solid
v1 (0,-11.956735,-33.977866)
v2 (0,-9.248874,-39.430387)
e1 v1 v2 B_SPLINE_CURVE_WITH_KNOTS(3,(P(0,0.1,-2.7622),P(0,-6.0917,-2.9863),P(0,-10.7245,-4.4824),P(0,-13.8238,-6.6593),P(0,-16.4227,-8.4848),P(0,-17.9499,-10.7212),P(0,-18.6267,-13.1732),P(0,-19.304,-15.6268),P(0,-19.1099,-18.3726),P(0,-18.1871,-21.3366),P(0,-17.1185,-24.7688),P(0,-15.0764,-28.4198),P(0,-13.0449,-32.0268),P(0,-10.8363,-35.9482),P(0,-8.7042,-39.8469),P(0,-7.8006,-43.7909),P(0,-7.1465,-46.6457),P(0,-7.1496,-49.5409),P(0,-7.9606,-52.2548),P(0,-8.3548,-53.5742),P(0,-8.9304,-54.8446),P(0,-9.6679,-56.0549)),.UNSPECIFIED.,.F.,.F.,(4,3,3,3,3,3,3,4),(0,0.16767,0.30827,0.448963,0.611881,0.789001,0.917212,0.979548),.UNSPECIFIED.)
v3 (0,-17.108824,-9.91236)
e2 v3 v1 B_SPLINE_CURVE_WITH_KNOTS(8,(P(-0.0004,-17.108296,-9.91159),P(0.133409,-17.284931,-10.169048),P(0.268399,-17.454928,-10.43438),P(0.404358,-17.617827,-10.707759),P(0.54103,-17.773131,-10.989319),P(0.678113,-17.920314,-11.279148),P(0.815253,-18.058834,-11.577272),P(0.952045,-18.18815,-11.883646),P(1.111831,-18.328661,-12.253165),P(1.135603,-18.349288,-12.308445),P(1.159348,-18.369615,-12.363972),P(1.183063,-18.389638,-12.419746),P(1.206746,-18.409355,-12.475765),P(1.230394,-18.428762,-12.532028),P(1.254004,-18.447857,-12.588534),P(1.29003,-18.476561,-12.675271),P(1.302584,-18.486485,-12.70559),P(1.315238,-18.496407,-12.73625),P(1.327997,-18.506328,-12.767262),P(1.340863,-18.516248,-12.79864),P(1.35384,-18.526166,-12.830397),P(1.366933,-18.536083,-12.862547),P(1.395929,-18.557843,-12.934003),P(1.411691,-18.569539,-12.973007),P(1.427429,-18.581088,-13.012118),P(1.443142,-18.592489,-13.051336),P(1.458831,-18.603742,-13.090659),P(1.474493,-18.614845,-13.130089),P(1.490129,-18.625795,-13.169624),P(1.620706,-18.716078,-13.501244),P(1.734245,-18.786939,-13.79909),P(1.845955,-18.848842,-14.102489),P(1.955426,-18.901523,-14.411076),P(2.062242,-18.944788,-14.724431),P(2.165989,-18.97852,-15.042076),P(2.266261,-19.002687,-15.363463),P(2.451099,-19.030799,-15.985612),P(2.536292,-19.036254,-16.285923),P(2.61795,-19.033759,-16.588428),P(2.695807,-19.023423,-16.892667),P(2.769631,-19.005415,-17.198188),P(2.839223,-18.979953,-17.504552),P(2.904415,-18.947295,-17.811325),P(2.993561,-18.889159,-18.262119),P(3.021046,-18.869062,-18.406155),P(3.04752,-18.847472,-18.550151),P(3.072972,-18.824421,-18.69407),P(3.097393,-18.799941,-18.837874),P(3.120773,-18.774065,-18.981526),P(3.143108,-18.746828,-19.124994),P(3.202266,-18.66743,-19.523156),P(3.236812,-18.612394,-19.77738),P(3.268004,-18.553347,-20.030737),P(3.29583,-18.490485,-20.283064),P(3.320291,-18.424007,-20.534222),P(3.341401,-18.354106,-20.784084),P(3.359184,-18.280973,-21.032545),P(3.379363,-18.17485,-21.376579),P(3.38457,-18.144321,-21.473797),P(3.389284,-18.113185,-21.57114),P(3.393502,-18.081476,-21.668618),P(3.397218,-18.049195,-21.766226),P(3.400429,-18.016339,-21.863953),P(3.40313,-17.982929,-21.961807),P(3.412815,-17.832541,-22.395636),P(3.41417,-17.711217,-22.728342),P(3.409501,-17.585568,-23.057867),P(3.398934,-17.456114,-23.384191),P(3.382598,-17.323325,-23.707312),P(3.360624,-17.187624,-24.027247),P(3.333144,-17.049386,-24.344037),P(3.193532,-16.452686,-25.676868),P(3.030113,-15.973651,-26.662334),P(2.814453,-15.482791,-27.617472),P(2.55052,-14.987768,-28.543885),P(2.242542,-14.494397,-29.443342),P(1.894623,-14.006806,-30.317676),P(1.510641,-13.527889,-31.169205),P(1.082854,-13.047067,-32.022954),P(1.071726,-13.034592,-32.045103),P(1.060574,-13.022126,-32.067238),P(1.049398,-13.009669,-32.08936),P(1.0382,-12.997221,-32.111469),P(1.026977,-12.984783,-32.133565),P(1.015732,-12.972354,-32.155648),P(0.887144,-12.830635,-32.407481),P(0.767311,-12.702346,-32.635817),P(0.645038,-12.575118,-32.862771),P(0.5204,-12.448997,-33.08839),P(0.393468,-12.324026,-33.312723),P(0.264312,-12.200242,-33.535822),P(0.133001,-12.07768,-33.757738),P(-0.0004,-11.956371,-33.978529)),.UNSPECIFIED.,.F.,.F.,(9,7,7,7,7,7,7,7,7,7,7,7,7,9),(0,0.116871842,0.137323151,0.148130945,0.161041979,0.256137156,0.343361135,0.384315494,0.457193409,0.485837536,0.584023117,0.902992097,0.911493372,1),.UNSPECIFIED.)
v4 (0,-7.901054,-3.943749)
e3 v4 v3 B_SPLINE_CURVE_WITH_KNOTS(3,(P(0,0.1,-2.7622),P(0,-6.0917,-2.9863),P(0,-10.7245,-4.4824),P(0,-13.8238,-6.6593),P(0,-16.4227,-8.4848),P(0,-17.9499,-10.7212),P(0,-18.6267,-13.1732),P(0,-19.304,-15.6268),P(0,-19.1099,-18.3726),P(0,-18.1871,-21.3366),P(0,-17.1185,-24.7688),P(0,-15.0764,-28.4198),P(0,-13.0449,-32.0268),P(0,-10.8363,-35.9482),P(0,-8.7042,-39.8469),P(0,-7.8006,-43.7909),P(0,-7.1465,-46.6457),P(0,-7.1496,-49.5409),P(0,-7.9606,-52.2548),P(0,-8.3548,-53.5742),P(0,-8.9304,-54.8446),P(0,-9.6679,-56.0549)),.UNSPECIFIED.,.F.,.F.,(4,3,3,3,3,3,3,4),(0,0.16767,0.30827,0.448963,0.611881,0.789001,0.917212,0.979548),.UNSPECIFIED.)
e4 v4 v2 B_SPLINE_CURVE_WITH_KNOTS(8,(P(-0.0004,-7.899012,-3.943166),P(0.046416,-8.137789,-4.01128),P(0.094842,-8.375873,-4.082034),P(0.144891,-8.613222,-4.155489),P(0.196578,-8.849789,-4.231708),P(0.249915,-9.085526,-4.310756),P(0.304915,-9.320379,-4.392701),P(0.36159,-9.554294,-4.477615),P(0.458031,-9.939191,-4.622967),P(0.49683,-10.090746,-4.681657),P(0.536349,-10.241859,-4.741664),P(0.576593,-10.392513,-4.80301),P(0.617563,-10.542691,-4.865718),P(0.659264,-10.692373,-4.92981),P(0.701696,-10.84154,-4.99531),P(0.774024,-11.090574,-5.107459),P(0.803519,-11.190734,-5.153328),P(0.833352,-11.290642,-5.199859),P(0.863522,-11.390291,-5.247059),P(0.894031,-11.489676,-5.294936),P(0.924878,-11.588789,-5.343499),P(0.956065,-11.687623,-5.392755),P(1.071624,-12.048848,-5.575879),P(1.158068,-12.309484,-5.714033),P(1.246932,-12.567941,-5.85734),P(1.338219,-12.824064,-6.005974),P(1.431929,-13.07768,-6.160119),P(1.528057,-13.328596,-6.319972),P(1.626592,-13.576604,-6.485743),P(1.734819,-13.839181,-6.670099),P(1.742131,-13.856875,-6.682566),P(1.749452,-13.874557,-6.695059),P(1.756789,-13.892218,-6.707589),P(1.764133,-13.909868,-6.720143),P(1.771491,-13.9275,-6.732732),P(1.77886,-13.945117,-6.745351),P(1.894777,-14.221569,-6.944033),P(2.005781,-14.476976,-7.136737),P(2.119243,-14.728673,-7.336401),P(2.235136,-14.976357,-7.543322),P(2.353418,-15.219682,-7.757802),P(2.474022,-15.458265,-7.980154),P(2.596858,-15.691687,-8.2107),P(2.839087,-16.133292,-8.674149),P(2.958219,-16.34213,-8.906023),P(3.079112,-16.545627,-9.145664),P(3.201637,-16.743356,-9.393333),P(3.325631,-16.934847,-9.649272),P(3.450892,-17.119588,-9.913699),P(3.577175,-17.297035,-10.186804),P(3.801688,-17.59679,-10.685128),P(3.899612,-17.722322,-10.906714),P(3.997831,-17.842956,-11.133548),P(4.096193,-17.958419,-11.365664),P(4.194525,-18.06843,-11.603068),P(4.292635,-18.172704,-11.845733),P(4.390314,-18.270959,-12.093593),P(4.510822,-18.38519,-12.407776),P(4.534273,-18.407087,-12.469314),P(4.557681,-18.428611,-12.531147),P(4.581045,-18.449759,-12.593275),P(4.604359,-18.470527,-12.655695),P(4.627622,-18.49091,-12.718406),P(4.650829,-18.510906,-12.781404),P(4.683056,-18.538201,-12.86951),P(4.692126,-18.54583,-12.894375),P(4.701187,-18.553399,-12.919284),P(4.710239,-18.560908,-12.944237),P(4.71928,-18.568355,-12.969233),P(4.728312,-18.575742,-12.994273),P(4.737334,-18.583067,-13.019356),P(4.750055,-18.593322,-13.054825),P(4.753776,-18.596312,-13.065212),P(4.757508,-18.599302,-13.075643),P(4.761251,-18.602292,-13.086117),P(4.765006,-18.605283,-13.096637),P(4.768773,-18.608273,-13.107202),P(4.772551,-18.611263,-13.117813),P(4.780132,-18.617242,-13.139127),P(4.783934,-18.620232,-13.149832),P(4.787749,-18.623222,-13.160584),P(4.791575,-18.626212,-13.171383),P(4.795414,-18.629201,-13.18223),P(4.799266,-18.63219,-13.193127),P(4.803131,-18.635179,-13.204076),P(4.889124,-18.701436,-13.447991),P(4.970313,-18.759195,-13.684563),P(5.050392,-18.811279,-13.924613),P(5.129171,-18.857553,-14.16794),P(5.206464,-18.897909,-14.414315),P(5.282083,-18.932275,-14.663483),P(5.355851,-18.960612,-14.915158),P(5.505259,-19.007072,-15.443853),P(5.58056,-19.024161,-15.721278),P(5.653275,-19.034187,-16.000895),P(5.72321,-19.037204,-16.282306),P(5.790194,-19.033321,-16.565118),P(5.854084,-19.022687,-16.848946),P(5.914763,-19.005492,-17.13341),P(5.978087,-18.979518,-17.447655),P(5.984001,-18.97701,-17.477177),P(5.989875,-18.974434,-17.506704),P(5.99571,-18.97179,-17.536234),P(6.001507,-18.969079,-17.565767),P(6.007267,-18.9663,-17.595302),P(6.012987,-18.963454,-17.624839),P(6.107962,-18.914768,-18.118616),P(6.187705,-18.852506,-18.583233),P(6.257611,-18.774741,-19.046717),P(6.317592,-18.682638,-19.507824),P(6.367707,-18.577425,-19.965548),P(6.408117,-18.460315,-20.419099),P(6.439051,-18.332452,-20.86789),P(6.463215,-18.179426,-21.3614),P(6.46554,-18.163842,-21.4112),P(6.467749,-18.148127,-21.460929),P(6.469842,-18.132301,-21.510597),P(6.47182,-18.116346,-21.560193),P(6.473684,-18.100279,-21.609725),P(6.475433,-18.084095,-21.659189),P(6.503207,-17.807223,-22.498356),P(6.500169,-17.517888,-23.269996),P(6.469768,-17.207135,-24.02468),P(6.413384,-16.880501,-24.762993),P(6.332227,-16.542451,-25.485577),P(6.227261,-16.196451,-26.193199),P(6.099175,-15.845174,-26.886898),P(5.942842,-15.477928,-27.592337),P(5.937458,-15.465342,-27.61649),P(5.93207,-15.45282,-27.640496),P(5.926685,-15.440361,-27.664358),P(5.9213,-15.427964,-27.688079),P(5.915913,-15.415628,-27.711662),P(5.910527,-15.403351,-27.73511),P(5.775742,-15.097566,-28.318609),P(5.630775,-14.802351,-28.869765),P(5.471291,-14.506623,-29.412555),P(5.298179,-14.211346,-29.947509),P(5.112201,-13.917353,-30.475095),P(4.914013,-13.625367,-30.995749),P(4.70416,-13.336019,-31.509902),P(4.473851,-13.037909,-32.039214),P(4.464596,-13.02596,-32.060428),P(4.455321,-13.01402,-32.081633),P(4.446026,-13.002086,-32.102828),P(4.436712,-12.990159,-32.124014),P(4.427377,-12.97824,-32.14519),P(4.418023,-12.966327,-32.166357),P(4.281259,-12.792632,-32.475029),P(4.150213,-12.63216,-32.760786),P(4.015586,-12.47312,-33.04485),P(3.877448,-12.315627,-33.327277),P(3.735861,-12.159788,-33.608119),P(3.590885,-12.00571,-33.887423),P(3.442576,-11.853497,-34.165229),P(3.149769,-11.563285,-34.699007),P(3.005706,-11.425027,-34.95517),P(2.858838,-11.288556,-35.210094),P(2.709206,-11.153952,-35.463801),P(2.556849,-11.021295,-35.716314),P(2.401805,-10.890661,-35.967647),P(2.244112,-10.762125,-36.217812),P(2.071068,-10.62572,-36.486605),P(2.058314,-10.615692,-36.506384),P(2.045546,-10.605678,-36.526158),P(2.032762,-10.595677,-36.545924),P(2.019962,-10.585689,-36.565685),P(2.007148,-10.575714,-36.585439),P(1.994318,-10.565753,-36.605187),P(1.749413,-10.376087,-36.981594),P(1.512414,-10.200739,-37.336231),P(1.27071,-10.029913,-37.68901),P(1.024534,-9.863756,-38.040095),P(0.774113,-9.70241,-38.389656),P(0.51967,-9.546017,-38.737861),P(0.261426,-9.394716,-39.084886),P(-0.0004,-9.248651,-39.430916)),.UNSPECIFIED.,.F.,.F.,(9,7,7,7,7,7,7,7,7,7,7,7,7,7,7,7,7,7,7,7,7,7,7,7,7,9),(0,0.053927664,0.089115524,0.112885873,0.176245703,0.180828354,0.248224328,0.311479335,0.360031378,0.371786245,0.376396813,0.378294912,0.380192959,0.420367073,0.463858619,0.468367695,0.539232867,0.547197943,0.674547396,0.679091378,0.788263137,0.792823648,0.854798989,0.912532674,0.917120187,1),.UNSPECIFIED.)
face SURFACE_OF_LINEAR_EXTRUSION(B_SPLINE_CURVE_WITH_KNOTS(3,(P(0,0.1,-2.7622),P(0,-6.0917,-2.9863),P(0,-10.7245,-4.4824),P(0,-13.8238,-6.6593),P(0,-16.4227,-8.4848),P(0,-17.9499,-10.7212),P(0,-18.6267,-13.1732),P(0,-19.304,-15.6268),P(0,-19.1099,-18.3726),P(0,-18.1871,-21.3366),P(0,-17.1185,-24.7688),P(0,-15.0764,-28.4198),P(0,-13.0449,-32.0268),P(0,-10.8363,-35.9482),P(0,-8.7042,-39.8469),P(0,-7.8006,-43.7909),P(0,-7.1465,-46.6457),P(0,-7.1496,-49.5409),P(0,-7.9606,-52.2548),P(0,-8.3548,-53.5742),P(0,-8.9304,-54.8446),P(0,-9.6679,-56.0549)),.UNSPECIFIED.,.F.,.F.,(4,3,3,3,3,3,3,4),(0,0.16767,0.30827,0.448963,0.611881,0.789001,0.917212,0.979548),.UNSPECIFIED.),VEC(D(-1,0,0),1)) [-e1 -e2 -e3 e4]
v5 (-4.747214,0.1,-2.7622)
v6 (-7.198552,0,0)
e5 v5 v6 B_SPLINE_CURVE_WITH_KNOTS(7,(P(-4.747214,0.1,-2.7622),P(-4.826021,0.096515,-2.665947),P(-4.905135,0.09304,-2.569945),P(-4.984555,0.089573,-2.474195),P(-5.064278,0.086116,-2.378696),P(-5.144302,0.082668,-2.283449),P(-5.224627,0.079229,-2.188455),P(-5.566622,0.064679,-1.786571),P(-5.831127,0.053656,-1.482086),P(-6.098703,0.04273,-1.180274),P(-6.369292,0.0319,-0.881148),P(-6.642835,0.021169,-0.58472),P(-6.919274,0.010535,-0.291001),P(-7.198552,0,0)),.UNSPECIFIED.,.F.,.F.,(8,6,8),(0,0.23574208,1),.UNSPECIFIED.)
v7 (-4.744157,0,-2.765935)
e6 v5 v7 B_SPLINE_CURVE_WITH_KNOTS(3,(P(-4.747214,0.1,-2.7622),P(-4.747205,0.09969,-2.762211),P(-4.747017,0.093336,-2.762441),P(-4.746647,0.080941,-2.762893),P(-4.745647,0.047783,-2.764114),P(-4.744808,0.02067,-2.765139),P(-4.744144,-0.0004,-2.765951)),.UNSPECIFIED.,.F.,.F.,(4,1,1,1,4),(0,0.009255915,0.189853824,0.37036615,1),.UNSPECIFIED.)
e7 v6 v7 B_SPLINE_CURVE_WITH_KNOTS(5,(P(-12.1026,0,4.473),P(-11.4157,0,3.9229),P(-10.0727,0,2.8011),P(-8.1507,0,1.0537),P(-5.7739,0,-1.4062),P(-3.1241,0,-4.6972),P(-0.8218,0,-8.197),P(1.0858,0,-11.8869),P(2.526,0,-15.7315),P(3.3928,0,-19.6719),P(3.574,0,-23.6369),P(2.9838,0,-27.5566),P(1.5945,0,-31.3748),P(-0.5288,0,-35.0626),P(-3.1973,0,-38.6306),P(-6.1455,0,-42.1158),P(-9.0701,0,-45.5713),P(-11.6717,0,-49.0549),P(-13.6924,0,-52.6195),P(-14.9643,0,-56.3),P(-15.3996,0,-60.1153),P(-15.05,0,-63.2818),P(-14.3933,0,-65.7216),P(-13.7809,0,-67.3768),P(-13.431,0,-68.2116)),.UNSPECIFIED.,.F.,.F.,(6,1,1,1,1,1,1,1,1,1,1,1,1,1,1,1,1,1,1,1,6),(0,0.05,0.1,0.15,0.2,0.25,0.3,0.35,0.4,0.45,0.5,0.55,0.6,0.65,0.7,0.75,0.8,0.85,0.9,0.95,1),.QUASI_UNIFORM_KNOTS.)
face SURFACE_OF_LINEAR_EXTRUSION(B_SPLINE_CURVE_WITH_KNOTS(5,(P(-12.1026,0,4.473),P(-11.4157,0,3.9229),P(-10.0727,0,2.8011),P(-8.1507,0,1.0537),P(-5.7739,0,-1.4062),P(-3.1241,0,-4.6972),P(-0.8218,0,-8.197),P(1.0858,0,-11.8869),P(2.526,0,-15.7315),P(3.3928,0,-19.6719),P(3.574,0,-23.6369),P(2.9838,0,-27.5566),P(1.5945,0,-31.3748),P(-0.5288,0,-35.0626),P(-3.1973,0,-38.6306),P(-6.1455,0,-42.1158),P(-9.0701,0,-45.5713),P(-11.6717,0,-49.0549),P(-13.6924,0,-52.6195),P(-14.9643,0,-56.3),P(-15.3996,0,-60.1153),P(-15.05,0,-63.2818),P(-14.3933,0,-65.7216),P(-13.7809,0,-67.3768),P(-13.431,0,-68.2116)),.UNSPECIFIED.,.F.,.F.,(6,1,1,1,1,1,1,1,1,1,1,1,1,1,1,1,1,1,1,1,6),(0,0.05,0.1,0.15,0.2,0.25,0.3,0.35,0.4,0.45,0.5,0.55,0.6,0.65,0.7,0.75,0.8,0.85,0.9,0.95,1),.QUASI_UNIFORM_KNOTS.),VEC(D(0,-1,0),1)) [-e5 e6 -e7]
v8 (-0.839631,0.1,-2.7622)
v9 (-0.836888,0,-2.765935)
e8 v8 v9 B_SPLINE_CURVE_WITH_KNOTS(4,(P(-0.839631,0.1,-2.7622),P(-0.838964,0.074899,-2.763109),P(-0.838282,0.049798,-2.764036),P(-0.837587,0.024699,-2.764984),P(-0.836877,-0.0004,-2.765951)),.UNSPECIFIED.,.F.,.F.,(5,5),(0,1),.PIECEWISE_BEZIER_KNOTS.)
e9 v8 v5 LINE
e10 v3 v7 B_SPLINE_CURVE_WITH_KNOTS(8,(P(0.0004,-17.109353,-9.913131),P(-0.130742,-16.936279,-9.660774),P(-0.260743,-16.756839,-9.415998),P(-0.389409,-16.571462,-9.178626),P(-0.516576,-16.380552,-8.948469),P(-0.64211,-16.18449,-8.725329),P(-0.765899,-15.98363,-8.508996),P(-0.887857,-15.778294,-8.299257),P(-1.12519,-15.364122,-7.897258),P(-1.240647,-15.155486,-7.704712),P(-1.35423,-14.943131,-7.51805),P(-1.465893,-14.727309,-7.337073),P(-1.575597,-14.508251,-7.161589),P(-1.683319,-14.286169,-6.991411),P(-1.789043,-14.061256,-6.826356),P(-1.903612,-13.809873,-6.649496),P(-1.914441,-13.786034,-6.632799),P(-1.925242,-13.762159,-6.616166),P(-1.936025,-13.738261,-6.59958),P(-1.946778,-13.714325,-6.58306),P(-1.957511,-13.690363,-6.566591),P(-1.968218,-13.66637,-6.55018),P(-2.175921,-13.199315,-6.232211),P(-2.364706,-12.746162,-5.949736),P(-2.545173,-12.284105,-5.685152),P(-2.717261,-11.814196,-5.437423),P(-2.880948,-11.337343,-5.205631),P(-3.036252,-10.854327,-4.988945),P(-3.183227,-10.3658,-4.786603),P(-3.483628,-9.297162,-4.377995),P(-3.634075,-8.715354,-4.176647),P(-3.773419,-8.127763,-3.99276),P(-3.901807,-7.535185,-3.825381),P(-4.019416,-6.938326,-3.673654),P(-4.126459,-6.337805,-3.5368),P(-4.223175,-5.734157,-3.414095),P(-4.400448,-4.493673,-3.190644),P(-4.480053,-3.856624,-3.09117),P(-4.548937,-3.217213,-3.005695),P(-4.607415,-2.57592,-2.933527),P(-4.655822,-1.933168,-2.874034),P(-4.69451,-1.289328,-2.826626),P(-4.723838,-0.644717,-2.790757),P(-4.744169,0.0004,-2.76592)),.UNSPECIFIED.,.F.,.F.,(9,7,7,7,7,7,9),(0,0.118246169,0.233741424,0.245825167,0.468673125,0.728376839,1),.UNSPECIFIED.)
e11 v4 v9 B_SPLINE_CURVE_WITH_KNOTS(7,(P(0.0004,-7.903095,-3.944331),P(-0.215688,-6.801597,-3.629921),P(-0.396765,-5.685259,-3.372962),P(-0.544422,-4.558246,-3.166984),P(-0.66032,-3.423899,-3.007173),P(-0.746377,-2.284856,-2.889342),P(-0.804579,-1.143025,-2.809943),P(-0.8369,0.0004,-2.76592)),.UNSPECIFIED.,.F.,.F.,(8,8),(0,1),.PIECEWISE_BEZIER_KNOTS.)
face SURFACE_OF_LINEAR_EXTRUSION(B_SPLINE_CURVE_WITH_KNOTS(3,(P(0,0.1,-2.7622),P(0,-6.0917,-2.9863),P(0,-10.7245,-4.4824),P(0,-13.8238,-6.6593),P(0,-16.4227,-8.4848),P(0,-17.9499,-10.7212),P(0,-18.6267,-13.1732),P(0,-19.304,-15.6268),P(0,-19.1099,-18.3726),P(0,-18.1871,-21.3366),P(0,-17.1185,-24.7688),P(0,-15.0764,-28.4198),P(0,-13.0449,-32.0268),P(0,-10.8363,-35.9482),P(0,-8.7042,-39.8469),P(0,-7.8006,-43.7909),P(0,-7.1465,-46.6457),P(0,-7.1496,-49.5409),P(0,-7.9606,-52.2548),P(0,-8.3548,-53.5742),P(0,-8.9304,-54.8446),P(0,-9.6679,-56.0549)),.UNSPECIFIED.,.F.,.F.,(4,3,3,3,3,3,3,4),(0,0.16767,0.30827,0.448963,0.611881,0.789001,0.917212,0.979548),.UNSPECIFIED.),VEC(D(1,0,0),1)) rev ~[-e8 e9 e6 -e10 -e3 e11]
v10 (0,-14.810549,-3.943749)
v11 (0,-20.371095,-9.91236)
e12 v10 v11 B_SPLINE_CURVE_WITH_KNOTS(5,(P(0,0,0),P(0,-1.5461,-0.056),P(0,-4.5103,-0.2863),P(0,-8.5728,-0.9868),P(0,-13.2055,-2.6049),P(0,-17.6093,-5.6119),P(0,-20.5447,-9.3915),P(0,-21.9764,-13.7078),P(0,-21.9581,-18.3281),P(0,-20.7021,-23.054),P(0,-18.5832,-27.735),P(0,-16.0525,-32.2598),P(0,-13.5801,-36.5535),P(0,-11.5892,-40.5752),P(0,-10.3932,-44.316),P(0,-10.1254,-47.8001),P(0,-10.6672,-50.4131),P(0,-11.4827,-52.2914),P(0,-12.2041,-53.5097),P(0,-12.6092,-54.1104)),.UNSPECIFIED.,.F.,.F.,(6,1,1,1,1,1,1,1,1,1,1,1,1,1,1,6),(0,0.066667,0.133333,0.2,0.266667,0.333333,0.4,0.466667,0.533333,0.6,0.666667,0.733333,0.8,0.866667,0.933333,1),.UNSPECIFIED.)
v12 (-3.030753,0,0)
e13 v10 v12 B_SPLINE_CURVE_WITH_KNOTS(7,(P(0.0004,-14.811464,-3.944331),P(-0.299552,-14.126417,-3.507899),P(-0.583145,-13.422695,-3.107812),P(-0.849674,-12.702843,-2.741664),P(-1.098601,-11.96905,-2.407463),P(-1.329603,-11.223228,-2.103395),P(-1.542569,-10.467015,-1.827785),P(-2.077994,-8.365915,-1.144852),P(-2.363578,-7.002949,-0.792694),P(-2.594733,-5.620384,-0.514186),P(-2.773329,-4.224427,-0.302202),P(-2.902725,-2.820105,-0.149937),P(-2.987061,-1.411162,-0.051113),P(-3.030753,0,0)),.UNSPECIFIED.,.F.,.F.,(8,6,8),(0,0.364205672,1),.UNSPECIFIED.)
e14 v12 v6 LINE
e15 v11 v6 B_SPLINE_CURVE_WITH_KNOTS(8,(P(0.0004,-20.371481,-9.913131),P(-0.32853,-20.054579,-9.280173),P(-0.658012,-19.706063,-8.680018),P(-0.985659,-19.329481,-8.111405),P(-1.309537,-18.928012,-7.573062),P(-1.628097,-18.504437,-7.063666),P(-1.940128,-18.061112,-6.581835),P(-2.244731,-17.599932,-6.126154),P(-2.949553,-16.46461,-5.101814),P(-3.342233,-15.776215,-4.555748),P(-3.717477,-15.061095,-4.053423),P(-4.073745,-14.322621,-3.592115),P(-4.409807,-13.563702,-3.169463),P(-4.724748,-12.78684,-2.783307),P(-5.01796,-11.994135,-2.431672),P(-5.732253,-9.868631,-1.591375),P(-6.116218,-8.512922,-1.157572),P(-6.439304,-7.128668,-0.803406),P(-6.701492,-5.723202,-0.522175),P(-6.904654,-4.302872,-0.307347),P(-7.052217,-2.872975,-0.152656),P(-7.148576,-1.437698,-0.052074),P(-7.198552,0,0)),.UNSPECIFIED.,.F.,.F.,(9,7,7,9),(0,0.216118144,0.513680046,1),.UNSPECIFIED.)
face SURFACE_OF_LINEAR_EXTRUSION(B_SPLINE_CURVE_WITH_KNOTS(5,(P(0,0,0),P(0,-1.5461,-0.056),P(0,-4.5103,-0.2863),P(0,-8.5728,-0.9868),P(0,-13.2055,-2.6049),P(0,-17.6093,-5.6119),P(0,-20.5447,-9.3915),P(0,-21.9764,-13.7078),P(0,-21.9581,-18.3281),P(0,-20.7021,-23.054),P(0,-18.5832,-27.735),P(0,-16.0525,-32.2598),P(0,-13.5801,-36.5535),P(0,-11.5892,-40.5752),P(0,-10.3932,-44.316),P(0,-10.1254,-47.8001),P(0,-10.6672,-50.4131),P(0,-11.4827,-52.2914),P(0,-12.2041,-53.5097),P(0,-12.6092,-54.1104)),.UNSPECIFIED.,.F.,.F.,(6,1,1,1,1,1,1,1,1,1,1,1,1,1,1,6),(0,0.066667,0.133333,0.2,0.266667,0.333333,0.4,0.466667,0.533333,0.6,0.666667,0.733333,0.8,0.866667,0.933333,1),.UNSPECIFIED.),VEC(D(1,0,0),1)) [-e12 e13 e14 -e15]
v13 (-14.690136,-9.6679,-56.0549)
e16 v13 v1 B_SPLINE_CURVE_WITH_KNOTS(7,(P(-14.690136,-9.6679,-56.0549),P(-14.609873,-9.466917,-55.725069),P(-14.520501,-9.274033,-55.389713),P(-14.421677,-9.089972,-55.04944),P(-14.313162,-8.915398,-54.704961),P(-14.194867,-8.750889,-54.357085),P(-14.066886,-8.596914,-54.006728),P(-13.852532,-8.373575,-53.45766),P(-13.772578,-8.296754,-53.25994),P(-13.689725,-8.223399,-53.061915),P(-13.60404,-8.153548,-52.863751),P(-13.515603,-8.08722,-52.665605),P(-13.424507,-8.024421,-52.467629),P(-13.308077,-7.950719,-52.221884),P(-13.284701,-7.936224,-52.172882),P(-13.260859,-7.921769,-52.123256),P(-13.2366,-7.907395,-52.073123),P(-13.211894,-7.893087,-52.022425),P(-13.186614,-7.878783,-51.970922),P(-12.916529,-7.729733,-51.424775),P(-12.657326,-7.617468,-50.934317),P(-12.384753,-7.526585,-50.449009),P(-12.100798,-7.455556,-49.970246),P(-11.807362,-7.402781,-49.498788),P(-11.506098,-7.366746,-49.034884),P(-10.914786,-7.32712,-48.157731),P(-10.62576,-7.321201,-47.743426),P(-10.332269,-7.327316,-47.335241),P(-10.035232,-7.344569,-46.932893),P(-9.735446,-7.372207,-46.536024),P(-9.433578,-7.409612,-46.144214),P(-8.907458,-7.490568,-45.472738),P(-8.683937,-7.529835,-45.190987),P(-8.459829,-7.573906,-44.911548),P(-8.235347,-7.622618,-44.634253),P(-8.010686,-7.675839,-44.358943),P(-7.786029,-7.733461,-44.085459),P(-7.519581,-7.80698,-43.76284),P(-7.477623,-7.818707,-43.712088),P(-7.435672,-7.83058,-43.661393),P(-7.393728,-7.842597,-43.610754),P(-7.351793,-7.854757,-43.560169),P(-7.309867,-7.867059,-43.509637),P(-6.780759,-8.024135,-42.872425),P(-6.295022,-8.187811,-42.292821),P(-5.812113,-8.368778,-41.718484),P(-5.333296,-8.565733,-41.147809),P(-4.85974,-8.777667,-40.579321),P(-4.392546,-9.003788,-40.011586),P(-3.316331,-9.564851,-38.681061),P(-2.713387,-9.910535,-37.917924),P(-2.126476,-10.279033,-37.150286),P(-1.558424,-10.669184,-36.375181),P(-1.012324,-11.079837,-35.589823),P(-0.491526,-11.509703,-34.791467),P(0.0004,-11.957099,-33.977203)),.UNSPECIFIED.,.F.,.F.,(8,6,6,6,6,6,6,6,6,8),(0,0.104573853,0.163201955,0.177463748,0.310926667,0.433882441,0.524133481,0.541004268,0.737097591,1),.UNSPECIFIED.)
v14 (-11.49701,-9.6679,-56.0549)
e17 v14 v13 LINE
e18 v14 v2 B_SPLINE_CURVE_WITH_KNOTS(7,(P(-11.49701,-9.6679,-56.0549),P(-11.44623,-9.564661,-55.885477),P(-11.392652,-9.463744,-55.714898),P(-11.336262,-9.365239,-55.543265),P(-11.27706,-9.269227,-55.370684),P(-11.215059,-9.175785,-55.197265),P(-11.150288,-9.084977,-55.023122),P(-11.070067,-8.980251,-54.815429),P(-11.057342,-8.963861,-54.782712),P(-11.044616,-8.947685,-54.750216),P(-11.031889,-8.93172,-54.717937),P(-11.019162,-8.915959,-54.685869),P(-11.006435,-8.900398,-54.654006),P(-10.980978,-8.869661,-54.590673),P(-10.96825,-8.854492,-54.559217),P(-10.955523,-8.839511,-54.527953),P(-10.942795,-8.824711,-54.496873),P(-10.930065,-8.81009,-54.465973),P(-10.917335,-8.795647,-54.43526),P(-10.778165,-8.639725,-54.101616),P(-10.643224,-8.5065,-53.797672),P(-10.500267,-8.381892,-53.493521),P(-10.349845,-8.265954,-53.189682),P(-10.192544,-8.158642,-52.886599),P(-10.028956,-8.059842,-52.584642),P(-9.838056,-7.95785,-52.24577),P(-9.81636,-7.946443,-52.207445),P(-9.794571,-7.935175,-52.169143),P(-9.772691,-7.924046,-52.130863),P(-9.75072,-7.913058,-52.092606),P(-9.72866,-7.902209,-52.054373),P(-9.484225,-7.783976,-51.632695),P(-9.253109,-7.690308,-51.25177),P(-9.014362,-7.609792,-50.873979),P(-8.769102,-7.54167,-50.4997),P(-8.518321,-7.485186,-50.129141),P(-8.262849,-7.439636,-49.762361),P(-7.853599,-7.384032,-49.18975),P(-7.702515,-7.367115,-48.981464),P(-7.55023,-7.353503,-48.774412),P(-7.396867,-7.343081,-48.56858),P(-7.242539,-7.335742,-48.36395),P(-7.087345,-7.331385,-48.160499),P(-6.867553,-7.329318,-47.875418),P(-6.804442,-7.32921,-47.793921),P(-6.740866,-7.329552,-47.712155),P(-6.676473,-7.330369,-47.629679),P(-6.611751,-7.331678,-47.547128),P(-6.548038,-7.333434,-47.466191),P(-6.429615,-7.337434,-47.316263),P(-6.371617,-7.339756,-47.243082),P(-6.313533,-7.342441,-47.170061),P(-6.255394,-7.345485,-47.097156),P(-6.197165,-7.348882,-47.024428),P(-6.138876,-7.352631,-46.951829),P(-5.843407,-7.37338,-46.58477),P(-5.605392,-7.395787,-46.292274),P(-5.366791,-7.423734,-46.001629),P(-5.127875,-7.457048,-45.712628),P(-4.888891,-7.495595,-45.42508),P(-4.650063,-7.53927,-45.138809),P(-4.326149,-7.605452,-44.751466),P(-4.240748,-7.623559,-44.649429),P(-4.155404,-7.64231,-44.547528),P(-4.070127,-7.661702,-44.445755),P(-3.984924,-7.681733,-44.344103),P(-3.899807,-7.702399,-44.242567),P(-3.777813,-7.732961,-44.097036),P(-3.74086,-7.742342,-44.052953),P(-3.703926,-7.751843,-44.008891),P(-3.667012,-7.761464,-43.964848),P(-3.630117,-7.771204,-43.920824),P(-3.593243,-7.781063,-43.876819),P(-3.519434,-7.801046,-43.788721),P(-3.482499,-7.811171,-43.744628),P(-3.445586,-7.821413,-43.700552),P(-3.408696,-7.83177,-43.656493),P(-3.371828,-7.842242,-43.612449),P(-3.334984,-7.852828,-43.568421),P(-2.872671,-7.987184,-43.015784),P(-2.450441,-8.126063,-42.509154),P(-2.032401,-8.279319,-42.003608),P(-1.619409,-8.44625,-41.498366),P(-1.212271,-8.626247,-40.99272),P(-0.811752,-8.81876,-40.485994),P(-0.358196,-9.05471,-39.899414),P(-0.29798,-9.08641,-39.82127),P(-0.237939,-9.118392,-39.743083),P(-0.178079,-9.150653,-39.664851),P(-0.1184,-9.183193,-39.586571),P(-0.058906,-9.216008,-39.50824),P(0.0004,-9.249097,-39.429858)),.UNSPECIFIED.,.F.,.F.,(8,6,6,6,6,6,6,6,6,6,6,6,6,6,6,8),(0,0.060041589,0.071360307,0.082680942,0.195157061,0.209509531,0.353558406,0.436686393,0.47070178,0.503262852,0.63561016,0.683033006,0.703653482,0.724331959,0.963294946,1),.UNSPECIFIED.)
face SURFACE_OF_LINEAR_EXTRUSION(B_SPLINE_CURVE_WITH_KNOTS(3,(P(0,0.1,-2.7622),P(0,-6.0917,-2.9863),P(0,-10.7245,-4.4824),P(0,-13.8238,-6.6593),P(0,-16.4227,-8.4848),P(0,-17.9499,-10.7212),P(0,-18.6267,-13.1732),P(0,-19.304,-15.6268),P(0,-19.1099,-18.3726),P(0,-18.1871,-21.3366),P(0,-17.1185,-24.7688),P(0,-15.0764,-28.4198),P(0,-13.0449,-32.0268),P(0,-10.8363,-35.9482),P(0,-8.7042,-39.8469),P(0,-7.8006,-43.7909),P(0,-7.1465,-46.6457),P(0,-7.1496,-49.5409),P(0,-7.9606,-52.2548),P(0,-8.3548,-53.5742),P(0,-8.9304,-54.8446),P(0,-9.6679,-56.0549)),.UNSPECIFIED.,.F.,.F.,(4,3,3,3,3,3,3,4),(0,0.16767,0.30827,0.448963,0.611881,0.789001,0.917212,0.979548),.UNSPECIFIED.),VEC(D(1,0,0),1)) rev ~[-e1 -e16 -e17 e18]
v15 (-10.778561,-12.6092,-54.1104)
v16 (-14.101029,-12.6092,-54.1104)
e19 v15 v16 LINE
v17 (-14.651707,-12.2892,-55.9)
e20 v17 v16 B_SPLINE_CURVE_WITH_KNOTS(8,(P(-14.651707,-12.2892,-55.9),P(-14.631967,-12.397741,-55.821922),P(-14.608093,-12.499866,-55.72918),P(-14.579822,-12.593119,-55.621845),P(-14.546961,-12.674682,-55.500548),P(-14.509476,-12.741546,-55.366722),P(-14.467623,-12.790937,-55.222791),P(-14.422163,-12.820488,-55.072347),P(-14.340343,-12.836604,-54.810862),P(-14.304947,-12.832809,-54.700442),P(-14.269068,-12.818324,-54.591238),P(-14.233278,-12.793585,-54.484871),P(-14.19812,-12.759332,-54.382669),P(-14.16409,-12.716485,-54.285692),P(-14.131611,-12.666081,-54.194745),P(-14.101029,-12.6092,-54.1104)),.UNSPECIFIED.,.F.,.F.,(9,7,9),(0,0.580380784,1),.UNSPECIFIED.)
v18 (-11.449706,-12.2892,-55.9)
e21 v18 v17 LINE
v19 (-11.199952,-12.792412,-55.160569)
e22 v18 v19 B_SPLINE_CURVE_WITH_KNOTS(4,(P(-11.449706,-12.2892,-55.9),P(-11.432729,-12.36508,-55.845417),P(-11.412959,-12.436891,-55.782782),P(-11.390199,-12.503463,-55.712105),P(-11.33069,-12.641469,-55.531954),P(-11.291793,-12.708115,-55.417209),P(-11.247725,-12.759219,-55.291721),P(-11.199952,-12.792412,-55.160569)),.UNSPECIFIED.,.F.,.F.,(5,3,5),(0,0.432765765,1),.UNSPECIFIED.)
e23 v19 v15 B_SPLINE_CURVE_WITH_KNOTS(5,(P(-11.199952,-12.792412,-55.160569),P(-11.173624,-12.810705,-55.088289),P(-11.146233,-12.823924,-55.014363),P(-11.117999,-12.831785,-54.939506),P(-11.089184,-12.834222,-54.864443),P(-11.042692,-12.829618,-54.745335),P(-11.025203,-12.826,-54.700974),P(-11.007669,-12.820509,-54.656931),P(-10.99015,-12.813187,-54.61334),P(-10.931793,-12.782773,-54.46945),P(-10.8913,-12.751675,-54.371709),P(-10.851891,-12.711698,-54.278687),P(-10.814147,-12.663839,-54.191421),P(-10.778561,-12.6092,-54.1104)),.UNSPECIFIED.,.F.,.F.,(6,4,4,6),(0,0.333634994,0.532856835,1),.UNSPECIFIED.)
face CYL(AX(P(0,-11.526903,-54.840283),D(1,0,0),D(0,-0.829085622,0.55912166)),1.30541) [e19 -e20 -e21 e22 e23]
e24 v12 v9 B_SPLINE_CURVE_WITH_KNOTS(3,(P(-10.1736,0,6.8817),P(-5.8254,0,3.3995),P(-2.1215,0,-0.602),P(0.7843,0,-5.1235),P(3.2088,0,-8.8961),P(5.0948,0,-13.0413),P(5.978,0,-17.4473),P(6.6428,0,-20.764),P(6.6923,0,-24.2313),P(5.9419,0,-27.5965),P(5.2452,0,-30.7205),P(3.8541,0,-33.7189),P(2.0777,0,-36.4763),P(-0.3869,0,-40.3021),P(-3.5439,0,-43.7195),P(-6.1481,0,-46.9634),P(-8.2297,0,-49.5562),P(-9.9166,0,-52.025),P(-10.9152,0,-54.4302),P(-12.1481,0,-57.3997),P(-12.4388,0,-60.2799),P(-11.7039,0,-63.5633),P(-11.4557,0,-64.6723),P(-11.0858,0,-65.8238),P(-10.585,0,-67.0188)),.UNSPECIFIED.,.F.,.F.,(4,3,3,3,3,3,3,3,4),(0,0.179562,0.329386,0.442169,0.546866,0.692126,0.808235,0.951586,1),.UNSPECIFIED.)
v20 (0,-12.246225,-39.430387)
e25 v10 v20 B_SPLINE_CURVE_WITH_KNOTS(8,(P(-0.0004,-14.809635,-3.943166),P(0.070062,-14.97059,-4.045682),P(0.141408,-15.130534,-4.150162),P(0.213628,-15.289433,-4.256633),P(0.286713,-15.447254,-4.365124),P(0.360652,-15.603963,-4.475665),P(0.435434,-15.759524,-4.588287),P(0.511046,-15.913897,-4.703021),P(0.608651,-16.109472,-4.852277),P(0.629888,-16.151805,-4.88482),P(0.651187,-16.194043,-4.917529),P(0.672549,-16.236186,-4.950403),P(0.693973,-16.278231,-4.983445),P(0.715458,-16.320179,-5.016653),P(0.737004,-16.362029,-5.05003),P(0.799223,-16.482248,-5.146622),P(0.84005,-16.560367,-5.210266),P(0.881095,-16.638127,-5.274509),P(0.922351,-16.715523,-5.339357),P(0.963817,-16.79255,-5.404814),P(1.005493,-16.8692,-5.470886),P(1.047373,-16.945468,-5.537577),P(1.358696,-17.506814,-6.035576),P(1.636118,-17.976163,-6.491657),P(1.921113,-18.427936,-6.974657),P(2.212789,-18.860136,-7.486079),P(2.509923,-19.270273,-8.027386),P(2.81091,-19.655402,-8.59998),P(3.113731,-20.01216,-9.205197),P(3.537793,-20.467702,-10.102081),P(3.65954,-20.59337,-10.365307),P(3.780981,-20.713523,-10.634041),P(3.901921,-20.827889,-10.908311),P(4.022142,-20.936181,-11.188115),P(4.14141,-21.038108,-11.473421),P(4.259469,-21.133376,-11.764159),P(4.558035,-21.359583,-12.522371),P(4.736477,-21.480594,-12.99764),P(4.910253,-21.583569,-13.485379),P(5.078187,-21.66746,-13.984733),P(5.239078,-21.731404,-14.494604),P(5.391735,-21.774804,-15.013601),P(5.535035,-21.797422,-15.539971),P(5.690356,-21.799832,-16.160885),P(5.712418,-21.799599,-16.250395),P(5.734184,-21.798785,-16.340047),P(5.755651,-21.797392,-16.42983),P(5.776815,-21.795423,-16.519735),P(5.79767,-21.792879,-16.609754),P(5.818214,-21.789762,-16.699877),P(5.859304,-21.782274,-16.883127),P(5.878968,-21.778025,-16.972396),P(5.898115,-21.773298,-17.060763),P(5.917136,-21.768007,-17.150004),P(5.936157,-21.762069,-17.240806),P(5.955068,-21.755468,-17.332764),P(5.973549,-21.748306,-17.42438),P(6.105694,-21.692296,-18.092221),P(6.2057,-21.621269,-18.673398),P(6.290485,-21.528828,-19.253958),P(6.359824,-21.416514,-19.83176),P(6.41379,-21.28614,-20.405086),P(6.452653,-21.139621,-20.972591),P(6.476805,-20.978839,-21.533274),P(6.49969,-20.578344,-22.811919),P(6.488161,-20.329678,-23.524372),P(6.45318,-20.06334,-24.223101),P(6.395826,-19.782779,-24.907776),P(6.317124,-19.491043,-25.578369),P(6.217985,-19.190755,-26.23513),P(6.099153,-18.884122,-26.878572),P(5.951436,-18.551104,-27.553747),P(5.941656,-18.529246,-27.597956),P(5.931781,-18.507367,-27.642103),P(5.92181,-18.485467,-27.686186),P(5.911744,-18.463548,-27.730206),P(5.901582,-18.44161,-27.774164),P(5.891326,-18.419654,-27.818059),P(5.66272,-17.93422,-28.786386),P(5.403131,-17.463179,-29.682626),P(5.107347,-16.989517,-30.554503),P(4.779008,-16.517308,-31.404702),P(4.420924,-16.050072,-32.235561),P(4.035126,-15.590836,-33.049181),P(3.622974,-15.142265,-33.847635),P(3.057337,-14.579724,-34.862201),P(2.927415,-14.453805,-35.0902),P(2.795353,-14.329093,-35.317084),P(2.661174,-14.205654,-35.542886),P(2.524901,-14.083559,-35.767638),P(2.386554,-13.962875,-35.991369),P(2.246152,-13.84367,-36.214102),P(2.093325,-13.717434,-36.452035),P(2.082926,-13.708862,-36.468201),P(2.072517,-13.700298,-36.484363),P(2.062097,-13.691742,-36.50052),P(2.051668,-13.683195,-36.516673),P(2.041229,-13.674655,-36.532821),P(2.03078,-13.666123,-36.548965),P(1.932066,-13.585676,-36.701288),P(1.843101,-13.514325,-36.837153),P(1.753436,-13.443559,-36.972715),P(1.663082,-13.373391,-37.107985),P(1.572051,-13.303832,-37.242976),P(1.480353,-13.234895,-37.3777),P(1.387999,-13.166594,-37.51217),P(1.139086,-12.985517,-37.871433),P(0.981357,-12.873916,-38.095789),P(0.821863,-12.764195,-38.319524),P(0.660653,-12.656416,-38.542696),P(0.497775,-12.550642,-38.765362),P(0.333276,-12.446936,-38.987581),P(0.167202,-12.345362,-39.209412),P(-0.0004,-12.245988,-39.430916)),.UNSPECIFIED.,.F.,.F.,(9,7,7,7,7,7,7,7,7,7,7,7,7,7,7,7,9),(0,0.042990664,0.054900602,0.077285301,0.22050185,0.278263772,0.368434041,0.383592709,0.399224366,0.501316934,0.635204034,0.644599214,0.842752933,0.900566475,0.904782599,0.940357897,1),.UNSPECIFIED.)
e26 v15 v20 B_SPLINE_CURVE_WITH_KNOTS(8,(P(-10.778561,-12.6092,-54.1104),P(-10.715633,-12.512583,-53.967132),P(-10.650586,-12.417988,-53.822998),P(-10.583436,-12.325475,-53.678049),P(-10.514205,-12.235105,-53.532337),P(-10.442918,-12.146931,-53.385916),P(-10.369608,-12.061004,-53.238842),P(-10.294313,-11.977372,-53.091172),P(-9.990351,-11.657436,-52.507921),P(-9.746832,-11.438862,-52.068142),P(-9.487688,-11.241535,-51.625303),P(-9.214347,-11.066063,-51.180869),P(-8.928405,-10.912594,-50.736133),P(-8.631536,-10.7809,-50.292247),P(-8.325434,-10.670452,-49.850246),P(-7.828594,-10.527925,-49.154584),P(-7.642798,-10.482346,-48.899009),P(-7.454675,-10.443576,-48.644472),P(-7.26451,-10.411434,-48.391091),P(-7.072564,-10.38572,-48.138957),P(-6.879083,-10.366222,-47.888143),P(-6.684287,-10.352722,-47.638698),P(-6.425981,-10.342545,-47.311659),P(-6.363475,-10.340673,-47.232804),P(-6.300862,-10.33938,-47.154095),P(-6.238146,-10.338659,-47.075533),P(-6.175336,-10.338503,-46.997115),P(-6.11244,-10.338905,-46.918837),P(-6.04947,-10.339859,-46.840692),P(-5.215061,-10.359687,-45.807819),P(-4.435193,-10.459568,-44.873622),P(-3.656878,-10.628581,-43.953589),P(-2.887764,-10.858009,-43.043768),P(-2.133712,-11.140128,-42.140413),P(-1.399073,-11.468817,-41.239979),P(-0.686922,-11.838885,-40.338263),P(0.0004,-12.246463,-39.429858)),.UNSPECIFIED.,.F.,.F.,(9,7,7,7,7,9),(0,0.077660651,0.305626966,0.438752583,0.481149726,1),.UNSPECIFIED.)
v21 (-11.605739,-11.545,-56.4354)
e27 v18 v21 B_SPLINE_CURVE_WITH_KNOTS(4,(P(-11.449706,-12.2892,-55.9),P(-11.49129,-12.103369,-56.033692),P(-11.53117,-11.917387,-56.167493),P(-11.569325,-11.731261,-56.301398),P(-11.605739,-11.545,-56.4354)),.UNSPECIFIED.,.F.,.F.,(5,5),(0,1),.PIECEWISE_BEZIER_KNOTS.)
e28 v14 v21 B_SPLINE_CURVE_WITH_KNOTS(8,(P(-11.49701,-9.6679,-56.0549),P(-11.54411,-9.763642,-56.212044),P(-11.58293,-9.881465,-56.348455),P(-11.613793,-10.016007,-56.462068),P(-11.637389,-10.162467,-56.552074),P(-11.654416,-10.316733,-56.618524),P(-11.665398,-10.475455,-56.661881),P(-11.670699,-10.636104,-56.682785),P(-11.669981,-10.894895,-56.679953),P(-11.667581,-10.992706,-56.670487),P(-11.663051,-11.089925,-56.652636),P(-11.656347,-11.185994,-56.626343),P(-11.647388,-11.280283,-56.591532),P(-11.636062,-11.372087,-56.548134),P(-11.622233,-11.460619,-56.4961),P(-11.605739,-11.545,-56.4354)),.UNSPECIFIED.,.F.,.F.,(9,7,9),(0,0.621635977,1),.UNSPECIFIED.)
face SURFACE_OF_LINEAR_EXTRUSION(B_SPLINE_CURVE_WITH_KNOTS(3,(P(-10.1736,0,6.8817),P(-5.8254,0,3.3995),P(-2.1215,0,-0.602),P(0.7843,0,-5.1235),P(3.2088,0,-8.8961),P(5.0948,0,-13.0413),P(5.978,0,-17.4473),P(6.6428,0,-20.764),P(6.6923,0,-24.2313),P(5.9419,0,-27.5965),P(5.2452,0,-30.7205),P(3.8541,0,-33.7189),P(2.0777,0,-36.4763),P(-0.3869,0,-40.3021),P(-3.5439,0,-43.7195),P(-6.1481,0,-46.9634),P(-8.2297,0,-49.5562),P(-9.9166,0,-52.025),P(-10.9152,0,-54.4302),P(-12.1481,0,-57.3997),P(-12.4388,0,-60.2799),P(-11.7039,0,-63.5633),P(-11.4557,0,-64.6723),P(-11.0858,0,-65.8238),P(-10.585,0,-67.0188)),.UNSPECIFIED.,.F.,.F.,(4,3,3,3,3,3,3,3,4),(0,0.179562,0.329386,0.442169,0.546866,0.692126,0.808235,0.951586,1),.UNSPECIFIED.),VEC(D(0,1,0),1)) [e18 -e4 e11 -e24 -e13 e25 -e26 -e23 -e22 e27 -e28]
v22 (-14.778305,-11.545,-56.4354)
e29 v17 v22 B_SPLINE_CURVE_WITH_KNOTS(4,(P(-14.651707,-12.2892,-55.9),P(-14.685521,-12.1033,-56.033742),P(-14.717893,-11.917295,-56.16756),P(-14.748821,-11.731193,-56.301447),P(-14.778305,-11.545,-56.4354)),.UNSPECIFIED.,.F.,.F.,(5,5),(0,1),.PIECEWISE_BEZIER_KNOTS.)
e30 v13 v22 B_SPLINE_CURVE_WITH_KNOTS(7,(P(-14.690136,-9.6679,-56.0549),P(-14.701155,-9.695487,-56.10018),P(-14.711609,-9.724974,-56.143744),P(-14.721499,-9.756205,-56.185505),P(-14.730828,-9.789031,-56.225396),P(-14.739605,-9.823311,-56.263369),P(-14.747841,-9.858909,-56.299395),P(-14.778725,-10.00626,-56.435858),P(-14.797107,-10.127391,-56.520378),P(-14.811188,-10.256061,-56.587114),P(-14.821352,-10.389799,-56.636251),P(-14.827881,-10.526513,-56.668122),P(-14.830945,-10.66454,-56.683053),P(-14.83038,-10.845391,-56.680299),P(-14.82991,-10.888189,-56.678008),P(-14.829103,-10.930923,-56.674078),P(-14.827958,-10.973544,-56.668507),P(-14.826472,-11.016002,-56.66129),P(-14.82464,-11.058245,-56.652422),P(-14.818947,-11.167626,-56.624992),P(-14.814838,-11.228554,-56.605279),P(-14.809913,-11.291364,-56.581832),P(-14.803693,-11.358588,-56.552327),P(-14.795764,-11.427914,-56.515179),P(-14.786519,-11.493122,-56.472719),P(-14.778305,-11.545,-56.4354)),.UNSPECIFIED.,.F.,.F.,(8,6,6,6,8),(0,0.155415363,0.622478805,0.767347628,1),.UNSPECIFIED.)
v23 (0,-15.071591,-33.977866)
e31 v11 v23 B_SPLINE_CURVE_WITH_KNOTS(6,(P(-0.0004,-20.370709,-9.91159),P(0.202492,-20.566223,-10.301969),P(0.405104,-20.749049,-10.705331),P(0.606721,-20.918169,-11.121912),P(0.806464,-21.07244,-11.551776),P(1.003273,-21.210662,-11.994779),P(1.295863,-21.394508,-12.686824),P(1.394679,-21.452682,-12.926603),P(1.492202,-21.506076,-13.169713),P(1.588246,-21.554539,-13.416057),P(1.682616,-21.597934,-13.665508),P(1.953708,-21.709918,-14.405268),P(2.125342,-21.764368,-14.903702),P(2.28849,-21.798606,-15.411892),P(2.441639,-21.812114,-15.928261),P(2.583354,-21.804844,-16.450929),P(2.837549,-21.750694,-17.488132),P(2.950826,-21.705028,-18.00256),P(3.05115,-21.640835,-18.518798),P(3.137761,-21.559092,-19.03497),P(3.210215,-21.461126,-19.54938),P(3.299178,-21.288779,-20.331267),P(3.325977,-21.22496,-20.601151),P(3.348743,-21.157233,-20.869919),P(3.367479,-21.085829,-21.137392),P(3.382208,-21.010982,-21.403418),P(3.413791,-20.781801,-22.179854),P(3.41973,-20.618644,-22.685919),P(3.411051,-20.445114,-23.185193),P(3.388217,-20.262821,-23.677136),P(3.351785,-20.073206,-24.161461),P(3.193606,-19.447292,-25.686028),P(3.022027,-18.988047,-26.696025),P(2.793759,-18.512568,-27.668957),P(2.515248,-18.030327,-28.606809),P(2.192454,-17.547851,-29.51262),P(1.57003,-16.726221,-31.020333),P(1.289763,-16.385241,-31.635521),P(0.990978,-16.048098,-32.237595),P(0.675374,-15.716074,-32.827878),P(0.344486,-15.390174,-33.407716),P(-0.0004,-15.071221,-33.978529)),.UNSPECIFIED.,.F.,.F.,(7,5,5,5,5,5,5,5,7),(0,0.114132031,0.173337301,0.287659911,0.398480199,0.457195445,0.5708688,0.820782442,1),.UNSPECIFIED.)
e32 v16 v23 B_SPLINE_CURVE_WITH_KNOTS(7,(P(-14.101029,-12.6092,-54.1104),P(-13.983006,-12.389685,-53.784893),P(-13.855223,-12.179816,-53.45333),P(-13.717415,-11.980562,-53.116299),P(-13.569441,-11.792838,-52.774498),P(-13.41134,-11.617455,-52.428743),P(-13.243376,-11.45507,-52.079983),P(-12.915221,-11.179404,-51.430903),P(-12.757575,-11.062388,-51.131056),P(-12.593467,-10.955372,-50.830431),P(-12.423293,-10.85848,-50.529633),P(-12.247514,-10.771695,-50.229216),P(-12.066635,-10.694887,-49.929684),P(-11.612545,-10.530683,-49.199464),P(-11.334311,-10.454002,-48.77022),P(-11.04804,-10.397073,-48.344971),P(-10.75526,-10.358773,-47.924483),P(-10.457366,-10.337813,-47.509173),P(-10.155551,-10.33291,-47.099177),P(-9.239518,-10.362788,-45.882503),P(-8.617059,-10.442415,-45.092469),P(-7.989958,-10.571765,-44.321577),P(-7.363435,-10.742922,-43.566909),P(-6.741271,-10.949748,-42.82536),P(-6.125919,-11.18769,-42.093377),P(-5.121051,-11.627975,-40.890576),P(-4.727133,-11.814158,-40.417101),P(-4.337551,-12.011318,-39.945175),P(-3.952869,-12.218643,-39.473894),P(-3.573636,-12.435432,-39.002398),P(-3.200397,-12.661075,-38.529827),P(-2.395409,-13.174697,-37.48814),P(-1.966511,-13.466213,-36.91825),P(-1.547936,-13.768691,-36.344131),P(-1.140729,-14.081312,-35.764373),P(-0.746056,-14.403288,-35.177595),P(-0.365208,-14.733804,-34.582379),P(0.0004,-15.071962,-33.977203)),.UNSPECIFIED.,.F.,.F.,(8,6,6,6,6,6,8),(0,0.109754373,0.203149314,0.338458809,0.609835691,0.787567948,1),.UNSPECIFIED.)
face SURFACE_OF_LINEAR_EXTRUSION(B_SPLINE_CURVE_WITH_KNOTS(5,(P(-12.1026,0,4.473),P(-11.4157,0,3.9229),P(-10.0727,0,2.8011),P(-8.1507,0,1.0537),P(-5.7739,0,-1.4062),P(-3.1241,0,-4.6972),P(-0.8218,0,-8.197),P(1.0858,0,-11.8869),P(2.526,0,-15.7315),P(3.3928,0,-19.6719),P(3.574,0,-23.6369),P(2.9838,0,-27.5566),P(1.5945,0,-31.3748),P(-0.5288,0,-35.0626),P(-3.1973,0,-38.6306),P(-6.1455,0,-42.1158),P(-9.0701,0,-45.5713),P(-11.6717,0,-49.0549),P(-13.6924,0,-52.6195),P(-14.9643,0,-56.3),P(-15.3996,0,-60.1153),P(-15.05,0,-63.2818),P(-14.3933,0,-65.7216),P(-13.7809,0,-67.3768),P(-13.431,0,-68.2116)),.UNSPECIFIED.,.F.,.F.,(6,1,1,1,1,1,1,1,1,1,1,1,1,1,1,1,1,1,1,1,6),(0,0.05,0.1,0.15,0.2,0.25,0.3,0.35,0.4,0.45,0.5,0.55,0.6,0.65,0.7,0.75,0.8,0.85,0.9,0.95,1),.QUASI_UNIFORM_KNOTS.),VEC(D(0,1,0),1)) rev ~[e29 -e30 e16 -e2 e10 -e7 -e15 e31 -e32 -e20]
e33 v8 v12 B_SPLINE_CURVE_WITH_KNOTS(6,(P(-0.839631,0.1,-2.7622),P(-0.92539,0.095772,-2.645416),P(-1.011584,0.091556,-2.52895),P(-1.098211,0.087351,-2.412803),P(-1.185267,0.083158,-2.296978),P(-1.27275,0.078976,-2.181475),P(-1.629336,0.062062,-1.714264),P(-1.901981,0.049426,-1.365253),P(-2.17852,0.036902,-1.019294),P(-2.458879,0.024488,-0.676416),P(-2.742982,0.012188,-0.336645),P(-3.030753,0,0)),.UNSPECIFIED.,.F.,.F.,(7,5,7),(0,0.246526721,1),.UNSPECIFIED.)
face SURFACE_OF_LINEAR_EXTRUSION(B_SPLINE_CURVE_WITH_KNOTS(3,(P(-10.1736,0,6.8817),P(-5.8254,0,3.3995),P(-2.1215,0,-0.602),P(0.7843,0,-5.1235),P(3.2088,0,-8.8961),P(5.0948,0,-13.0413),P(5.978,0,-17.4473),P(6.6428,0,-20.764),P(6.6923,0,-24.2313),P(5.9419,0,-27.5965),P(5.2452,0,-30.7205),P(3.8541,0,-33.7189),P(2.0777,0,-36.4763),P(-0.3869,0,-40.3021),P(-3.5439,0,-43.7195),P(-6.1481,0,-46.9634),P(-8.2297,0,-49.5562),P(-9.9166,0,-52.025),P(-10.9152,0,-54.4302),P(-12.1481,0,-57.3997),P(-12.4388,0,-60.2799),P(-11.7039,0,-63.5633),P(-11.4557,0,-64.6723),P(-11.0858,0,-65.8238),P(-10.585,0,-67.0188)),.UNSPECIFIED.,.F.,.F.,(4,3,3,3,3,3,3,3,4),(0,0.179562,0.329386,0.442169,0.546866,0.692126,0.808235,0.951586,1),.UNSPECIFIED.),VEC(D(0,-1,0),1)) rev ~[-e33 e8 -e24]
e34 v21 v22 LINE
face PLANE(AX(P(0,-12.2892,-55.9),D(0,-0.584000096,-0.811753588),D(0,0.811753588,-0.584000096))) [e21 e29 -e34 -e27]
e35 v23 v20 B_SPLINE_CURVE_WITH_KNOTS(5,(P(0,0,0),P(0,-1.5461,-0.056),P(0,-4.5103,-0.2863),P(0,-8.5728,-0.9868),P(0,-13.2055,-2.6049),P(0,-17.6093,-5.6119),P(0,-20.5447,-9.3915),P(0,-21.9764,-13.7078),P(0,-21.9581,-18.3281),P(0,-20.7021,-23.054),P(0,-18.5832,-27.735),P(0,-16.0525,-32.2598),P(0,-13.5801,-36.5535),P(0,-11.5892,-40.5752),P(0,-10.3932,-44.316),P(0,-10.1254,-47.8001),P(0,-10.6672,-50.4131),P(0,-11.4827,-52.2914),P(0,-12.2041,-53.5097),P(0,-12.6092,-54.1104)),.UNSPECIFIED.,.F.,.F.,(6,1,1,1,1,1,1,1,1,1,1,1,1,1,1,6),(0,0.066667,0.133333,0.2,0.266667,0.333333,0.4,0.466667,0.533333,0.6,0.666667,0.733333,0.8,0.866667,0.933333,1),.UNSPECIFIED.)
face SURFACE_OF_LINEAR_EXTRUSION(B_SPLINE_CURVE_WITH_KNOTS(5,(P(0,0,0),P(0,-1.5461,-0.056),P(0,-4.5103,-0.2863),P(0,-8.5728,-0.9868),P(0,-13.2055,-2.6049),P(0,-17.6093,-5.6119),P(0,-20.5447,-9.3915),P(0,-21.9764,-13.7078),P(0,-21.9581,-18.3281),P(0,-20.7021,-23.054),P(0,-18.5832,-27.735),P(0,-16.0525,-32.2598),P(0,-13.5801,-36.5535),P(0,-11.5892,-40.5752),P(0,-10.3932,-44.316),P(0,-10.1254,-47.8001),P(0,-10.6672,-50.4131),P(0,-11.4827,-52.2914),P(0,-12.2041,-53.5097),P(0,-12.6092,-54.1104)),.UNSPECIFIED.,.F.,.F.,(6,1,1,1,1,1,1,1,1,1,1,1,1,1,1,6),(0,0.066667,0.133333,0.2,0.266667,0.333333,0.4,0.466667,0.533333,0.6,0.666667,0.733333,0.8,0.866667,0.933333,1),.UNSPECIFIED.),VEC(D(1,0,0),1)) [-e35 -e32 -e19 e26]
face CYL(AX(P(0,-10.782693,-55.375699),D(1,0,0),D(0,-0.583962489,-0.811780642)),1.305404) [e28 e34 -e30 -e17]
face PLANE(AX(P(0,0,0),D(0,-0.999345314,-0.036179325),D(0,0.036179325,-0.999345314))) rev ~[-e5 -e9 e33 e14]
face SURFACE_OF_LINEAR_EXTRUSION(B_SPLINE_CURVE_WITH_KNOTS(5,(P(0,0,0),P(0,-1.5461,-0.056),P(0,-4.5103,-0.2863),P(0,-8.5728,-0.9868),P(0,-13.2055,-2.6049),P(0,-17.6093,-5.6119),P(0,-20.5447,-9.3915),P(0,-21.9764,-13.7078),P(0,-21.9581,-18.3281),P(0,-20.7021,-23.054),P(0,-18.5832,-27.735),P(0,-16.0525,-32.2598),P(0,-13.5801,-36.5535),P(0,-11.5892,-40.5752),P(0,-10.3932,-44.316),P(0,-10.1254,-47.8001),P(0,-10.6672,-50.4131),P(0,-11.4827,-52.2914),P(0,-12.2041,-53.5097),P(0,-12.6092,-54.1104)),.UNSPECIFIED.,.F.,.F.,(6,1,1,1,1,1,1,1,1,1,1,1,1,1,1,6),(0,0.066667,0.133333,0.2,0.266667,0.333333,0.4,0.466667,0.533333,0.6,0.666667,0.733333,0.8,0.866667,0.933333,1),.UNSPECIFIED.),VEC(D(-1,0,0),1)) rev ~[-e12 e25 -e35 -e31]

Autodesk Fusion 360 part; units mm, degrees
sketch "Sketch1" plane through (0, 0, 0) normal (1, 0, 0) x (0, 1, 0)
  spline S0 degree 5 poles (0, 0) (-1.5461, -0.056) (-4.5103, -0.2863) (-8.5728, -0.9868) (-13.2055, -2.6049) (-17.6093, -5.6119) (-20.5447, -9.3915) (-21.9764, -13.7078) (-21.9581, -18.3281) (-20.7021, -23.054) (-18.5832, -27.735) (-16.0525, -32.2598) (-13.5801, -36.5535) (-11.5892, -40.5752) (-10.3932, -44.316) (-10.1254, -47.8001) (-10.6672, -50.4131) (-11.4827, -52.2914) (-12.2041, -53.5097) (-12.6092, -54.1104) knots 0 0 0 0 0 0 0.066667 0.133333 0.2 0.266667 0.333333 0.4 0.466667 0.533333 0.6 0.666667 0.733333 0.8 0.866667 0.933333 1 1 1 1 1 1
  line L0 (10.2739, 0.3719) -> (-10.2739, -0.3719)
  spline S1 degree 3 poles (0.1, -2.7622) (-6.0917, -2.9863) (-10.7245, -4.4824) (-13.8238, -6.6593) (-16.4227, -8.4848) (-17.9499, -10.7212) (-18.6267, -13.1732) (-19.304, -15.6268) (-19.1099, -18.3726) (-18.1871, -21.3366) (-17.1185, -24.7688) (-15.0764, -28.4198) (-13.0449, -32.0268) (-10.8363, -35.9482) (-8.7042, -39.8469) (-7.8006, -43.7909) (-7.1465, -46.6457) (-7.1496, -49.5409) (-7.9606, -52.2548) (-8.3548, -53.5742) (-8.9304, -54.8446) (-9.6679, -56.0549) knots 0 0 0 0 0.16767 0.16767 0.16767 0.30827 0.30827 0.30827 0.448963 0.448963 0.448963 0.611881 0.611881 0.611881 0.789001 0.789001 0.789001 0.917212 0.917212 0.917212 0.979548 0.979548 0.979548 0.979548
  line L1 (-12.2892, -55.9) -> (-11.545, -56.4354)
  line L2 (0, 0) -> (0.1, -2.7622)
  arc A0 (-12.6092, -54.1104) -> (-12.2892, -55.9) centre (-11.5269, -54.8403) ccw
  arc A1 (-11.545, -56.4354) -> (-9.6679, -56.0549) centre (-10.7827, -55.3757) ccw
  point P0 (-11.7402, -40.6199)
  dimension "d2" = 1.3054
sketch "Sketch2" plane through (0, 0, 0) normal (0, 1, 0) x (1, 0, 0)
  spline S0 degree 5 poles (-12.1026, -4.473) (-11.4157, -3.9229) (-10.0727, -2.8011) (-8.1507, -1.0537) (-5.7739, 1.4062) (-3.1241, 4.6972) (-0.8218, 8.197) (1.0858, 11.8869) (2.526, 15.7315) (3.3928, 19.6719) (3.574, 23.6369) (2.9838, 27.5566) (1.5945, 31.3748) (-0.5288, 35.0626) (-3.1973, 38.6306) (-6.1455, 42.1158) (-9.0701, 45.5713) (-11.6717, 49.0549) (-13.6924, 52.6195) (-14.9643, 56.3) (-15.3996, 60.1153) (-15.05, 63.2818) (-14.3933, 65.7216) (-13.7809, 67.3768) (-13.431, 68.2116) knots 0 0 0 0 0 0 0.05 0.1 0.15 0.2 0.25 0.3 0.35 0.4 0.45 0.5 0.55 0.6 0.65 0.7 0.75 0.8 0.85 0.9 0.95 1 1 1 1 1 1
  spline S1 degree 3 poles (-10.1736, -6.8817) (-5.8254, -3.3995) (-2.1215, 0.602) (0.7843, 5.1235) (3.2088, 8.8961) (5.0948, 13.0413) (5.978, 17.4473) (6.6428, 20.764) (6.6923, 24.2313) (5.9419, 27.5965) (5.2452, 30.7205) (3.8541, 33.7189) (2.0777, 36.4763) (-0.3869, 40.3021) (-3.5439, 43.7195) (-6.1481, 46.9634) (-8.2297, 49.5562) (-9.9166, 52.025) (-10.9152, 54.4302) (-12.1481, 57.3997) (-12.4388, 60.2799) (-11.7039, 63.5633) (-11.4557, 64.6723) (-11.0858, 65.8238) (-10.585, 67.0188) knots 0 0 0 0 0.179562 0.179562 0.179562 0.329386 0.329386 0.329386 0.442169 0.442169 0.442169 0.546866 0.546866 0.546866 0.692126 0.692126 0.692126 0.808235 0.808235 0.808235 0.951586 0.951586 0.951586 1 1 1 1
  line L0 (-10.1736, -6.8817) -> (-12.1026, -4.473)
  line L1 (-10.585, 67.0188) -> (-13.431, 68.2116)
  point P0 (1.1818, 12.4171)
  point P1 (1.5613, 31.0153)
  point P2 (-12.1026, 49.993)
  dimension "d8" = 3.0859
extrude "Extrude1" add sketch "Sketch2" along normal mid plane 90.686 makes body 1
extrude "Extrude2" add sketch "Sketch1" along normal mid plane 63.566 separate body makes body 2
combine "Combine1" operation intersect target body 1 tool bodies 2
